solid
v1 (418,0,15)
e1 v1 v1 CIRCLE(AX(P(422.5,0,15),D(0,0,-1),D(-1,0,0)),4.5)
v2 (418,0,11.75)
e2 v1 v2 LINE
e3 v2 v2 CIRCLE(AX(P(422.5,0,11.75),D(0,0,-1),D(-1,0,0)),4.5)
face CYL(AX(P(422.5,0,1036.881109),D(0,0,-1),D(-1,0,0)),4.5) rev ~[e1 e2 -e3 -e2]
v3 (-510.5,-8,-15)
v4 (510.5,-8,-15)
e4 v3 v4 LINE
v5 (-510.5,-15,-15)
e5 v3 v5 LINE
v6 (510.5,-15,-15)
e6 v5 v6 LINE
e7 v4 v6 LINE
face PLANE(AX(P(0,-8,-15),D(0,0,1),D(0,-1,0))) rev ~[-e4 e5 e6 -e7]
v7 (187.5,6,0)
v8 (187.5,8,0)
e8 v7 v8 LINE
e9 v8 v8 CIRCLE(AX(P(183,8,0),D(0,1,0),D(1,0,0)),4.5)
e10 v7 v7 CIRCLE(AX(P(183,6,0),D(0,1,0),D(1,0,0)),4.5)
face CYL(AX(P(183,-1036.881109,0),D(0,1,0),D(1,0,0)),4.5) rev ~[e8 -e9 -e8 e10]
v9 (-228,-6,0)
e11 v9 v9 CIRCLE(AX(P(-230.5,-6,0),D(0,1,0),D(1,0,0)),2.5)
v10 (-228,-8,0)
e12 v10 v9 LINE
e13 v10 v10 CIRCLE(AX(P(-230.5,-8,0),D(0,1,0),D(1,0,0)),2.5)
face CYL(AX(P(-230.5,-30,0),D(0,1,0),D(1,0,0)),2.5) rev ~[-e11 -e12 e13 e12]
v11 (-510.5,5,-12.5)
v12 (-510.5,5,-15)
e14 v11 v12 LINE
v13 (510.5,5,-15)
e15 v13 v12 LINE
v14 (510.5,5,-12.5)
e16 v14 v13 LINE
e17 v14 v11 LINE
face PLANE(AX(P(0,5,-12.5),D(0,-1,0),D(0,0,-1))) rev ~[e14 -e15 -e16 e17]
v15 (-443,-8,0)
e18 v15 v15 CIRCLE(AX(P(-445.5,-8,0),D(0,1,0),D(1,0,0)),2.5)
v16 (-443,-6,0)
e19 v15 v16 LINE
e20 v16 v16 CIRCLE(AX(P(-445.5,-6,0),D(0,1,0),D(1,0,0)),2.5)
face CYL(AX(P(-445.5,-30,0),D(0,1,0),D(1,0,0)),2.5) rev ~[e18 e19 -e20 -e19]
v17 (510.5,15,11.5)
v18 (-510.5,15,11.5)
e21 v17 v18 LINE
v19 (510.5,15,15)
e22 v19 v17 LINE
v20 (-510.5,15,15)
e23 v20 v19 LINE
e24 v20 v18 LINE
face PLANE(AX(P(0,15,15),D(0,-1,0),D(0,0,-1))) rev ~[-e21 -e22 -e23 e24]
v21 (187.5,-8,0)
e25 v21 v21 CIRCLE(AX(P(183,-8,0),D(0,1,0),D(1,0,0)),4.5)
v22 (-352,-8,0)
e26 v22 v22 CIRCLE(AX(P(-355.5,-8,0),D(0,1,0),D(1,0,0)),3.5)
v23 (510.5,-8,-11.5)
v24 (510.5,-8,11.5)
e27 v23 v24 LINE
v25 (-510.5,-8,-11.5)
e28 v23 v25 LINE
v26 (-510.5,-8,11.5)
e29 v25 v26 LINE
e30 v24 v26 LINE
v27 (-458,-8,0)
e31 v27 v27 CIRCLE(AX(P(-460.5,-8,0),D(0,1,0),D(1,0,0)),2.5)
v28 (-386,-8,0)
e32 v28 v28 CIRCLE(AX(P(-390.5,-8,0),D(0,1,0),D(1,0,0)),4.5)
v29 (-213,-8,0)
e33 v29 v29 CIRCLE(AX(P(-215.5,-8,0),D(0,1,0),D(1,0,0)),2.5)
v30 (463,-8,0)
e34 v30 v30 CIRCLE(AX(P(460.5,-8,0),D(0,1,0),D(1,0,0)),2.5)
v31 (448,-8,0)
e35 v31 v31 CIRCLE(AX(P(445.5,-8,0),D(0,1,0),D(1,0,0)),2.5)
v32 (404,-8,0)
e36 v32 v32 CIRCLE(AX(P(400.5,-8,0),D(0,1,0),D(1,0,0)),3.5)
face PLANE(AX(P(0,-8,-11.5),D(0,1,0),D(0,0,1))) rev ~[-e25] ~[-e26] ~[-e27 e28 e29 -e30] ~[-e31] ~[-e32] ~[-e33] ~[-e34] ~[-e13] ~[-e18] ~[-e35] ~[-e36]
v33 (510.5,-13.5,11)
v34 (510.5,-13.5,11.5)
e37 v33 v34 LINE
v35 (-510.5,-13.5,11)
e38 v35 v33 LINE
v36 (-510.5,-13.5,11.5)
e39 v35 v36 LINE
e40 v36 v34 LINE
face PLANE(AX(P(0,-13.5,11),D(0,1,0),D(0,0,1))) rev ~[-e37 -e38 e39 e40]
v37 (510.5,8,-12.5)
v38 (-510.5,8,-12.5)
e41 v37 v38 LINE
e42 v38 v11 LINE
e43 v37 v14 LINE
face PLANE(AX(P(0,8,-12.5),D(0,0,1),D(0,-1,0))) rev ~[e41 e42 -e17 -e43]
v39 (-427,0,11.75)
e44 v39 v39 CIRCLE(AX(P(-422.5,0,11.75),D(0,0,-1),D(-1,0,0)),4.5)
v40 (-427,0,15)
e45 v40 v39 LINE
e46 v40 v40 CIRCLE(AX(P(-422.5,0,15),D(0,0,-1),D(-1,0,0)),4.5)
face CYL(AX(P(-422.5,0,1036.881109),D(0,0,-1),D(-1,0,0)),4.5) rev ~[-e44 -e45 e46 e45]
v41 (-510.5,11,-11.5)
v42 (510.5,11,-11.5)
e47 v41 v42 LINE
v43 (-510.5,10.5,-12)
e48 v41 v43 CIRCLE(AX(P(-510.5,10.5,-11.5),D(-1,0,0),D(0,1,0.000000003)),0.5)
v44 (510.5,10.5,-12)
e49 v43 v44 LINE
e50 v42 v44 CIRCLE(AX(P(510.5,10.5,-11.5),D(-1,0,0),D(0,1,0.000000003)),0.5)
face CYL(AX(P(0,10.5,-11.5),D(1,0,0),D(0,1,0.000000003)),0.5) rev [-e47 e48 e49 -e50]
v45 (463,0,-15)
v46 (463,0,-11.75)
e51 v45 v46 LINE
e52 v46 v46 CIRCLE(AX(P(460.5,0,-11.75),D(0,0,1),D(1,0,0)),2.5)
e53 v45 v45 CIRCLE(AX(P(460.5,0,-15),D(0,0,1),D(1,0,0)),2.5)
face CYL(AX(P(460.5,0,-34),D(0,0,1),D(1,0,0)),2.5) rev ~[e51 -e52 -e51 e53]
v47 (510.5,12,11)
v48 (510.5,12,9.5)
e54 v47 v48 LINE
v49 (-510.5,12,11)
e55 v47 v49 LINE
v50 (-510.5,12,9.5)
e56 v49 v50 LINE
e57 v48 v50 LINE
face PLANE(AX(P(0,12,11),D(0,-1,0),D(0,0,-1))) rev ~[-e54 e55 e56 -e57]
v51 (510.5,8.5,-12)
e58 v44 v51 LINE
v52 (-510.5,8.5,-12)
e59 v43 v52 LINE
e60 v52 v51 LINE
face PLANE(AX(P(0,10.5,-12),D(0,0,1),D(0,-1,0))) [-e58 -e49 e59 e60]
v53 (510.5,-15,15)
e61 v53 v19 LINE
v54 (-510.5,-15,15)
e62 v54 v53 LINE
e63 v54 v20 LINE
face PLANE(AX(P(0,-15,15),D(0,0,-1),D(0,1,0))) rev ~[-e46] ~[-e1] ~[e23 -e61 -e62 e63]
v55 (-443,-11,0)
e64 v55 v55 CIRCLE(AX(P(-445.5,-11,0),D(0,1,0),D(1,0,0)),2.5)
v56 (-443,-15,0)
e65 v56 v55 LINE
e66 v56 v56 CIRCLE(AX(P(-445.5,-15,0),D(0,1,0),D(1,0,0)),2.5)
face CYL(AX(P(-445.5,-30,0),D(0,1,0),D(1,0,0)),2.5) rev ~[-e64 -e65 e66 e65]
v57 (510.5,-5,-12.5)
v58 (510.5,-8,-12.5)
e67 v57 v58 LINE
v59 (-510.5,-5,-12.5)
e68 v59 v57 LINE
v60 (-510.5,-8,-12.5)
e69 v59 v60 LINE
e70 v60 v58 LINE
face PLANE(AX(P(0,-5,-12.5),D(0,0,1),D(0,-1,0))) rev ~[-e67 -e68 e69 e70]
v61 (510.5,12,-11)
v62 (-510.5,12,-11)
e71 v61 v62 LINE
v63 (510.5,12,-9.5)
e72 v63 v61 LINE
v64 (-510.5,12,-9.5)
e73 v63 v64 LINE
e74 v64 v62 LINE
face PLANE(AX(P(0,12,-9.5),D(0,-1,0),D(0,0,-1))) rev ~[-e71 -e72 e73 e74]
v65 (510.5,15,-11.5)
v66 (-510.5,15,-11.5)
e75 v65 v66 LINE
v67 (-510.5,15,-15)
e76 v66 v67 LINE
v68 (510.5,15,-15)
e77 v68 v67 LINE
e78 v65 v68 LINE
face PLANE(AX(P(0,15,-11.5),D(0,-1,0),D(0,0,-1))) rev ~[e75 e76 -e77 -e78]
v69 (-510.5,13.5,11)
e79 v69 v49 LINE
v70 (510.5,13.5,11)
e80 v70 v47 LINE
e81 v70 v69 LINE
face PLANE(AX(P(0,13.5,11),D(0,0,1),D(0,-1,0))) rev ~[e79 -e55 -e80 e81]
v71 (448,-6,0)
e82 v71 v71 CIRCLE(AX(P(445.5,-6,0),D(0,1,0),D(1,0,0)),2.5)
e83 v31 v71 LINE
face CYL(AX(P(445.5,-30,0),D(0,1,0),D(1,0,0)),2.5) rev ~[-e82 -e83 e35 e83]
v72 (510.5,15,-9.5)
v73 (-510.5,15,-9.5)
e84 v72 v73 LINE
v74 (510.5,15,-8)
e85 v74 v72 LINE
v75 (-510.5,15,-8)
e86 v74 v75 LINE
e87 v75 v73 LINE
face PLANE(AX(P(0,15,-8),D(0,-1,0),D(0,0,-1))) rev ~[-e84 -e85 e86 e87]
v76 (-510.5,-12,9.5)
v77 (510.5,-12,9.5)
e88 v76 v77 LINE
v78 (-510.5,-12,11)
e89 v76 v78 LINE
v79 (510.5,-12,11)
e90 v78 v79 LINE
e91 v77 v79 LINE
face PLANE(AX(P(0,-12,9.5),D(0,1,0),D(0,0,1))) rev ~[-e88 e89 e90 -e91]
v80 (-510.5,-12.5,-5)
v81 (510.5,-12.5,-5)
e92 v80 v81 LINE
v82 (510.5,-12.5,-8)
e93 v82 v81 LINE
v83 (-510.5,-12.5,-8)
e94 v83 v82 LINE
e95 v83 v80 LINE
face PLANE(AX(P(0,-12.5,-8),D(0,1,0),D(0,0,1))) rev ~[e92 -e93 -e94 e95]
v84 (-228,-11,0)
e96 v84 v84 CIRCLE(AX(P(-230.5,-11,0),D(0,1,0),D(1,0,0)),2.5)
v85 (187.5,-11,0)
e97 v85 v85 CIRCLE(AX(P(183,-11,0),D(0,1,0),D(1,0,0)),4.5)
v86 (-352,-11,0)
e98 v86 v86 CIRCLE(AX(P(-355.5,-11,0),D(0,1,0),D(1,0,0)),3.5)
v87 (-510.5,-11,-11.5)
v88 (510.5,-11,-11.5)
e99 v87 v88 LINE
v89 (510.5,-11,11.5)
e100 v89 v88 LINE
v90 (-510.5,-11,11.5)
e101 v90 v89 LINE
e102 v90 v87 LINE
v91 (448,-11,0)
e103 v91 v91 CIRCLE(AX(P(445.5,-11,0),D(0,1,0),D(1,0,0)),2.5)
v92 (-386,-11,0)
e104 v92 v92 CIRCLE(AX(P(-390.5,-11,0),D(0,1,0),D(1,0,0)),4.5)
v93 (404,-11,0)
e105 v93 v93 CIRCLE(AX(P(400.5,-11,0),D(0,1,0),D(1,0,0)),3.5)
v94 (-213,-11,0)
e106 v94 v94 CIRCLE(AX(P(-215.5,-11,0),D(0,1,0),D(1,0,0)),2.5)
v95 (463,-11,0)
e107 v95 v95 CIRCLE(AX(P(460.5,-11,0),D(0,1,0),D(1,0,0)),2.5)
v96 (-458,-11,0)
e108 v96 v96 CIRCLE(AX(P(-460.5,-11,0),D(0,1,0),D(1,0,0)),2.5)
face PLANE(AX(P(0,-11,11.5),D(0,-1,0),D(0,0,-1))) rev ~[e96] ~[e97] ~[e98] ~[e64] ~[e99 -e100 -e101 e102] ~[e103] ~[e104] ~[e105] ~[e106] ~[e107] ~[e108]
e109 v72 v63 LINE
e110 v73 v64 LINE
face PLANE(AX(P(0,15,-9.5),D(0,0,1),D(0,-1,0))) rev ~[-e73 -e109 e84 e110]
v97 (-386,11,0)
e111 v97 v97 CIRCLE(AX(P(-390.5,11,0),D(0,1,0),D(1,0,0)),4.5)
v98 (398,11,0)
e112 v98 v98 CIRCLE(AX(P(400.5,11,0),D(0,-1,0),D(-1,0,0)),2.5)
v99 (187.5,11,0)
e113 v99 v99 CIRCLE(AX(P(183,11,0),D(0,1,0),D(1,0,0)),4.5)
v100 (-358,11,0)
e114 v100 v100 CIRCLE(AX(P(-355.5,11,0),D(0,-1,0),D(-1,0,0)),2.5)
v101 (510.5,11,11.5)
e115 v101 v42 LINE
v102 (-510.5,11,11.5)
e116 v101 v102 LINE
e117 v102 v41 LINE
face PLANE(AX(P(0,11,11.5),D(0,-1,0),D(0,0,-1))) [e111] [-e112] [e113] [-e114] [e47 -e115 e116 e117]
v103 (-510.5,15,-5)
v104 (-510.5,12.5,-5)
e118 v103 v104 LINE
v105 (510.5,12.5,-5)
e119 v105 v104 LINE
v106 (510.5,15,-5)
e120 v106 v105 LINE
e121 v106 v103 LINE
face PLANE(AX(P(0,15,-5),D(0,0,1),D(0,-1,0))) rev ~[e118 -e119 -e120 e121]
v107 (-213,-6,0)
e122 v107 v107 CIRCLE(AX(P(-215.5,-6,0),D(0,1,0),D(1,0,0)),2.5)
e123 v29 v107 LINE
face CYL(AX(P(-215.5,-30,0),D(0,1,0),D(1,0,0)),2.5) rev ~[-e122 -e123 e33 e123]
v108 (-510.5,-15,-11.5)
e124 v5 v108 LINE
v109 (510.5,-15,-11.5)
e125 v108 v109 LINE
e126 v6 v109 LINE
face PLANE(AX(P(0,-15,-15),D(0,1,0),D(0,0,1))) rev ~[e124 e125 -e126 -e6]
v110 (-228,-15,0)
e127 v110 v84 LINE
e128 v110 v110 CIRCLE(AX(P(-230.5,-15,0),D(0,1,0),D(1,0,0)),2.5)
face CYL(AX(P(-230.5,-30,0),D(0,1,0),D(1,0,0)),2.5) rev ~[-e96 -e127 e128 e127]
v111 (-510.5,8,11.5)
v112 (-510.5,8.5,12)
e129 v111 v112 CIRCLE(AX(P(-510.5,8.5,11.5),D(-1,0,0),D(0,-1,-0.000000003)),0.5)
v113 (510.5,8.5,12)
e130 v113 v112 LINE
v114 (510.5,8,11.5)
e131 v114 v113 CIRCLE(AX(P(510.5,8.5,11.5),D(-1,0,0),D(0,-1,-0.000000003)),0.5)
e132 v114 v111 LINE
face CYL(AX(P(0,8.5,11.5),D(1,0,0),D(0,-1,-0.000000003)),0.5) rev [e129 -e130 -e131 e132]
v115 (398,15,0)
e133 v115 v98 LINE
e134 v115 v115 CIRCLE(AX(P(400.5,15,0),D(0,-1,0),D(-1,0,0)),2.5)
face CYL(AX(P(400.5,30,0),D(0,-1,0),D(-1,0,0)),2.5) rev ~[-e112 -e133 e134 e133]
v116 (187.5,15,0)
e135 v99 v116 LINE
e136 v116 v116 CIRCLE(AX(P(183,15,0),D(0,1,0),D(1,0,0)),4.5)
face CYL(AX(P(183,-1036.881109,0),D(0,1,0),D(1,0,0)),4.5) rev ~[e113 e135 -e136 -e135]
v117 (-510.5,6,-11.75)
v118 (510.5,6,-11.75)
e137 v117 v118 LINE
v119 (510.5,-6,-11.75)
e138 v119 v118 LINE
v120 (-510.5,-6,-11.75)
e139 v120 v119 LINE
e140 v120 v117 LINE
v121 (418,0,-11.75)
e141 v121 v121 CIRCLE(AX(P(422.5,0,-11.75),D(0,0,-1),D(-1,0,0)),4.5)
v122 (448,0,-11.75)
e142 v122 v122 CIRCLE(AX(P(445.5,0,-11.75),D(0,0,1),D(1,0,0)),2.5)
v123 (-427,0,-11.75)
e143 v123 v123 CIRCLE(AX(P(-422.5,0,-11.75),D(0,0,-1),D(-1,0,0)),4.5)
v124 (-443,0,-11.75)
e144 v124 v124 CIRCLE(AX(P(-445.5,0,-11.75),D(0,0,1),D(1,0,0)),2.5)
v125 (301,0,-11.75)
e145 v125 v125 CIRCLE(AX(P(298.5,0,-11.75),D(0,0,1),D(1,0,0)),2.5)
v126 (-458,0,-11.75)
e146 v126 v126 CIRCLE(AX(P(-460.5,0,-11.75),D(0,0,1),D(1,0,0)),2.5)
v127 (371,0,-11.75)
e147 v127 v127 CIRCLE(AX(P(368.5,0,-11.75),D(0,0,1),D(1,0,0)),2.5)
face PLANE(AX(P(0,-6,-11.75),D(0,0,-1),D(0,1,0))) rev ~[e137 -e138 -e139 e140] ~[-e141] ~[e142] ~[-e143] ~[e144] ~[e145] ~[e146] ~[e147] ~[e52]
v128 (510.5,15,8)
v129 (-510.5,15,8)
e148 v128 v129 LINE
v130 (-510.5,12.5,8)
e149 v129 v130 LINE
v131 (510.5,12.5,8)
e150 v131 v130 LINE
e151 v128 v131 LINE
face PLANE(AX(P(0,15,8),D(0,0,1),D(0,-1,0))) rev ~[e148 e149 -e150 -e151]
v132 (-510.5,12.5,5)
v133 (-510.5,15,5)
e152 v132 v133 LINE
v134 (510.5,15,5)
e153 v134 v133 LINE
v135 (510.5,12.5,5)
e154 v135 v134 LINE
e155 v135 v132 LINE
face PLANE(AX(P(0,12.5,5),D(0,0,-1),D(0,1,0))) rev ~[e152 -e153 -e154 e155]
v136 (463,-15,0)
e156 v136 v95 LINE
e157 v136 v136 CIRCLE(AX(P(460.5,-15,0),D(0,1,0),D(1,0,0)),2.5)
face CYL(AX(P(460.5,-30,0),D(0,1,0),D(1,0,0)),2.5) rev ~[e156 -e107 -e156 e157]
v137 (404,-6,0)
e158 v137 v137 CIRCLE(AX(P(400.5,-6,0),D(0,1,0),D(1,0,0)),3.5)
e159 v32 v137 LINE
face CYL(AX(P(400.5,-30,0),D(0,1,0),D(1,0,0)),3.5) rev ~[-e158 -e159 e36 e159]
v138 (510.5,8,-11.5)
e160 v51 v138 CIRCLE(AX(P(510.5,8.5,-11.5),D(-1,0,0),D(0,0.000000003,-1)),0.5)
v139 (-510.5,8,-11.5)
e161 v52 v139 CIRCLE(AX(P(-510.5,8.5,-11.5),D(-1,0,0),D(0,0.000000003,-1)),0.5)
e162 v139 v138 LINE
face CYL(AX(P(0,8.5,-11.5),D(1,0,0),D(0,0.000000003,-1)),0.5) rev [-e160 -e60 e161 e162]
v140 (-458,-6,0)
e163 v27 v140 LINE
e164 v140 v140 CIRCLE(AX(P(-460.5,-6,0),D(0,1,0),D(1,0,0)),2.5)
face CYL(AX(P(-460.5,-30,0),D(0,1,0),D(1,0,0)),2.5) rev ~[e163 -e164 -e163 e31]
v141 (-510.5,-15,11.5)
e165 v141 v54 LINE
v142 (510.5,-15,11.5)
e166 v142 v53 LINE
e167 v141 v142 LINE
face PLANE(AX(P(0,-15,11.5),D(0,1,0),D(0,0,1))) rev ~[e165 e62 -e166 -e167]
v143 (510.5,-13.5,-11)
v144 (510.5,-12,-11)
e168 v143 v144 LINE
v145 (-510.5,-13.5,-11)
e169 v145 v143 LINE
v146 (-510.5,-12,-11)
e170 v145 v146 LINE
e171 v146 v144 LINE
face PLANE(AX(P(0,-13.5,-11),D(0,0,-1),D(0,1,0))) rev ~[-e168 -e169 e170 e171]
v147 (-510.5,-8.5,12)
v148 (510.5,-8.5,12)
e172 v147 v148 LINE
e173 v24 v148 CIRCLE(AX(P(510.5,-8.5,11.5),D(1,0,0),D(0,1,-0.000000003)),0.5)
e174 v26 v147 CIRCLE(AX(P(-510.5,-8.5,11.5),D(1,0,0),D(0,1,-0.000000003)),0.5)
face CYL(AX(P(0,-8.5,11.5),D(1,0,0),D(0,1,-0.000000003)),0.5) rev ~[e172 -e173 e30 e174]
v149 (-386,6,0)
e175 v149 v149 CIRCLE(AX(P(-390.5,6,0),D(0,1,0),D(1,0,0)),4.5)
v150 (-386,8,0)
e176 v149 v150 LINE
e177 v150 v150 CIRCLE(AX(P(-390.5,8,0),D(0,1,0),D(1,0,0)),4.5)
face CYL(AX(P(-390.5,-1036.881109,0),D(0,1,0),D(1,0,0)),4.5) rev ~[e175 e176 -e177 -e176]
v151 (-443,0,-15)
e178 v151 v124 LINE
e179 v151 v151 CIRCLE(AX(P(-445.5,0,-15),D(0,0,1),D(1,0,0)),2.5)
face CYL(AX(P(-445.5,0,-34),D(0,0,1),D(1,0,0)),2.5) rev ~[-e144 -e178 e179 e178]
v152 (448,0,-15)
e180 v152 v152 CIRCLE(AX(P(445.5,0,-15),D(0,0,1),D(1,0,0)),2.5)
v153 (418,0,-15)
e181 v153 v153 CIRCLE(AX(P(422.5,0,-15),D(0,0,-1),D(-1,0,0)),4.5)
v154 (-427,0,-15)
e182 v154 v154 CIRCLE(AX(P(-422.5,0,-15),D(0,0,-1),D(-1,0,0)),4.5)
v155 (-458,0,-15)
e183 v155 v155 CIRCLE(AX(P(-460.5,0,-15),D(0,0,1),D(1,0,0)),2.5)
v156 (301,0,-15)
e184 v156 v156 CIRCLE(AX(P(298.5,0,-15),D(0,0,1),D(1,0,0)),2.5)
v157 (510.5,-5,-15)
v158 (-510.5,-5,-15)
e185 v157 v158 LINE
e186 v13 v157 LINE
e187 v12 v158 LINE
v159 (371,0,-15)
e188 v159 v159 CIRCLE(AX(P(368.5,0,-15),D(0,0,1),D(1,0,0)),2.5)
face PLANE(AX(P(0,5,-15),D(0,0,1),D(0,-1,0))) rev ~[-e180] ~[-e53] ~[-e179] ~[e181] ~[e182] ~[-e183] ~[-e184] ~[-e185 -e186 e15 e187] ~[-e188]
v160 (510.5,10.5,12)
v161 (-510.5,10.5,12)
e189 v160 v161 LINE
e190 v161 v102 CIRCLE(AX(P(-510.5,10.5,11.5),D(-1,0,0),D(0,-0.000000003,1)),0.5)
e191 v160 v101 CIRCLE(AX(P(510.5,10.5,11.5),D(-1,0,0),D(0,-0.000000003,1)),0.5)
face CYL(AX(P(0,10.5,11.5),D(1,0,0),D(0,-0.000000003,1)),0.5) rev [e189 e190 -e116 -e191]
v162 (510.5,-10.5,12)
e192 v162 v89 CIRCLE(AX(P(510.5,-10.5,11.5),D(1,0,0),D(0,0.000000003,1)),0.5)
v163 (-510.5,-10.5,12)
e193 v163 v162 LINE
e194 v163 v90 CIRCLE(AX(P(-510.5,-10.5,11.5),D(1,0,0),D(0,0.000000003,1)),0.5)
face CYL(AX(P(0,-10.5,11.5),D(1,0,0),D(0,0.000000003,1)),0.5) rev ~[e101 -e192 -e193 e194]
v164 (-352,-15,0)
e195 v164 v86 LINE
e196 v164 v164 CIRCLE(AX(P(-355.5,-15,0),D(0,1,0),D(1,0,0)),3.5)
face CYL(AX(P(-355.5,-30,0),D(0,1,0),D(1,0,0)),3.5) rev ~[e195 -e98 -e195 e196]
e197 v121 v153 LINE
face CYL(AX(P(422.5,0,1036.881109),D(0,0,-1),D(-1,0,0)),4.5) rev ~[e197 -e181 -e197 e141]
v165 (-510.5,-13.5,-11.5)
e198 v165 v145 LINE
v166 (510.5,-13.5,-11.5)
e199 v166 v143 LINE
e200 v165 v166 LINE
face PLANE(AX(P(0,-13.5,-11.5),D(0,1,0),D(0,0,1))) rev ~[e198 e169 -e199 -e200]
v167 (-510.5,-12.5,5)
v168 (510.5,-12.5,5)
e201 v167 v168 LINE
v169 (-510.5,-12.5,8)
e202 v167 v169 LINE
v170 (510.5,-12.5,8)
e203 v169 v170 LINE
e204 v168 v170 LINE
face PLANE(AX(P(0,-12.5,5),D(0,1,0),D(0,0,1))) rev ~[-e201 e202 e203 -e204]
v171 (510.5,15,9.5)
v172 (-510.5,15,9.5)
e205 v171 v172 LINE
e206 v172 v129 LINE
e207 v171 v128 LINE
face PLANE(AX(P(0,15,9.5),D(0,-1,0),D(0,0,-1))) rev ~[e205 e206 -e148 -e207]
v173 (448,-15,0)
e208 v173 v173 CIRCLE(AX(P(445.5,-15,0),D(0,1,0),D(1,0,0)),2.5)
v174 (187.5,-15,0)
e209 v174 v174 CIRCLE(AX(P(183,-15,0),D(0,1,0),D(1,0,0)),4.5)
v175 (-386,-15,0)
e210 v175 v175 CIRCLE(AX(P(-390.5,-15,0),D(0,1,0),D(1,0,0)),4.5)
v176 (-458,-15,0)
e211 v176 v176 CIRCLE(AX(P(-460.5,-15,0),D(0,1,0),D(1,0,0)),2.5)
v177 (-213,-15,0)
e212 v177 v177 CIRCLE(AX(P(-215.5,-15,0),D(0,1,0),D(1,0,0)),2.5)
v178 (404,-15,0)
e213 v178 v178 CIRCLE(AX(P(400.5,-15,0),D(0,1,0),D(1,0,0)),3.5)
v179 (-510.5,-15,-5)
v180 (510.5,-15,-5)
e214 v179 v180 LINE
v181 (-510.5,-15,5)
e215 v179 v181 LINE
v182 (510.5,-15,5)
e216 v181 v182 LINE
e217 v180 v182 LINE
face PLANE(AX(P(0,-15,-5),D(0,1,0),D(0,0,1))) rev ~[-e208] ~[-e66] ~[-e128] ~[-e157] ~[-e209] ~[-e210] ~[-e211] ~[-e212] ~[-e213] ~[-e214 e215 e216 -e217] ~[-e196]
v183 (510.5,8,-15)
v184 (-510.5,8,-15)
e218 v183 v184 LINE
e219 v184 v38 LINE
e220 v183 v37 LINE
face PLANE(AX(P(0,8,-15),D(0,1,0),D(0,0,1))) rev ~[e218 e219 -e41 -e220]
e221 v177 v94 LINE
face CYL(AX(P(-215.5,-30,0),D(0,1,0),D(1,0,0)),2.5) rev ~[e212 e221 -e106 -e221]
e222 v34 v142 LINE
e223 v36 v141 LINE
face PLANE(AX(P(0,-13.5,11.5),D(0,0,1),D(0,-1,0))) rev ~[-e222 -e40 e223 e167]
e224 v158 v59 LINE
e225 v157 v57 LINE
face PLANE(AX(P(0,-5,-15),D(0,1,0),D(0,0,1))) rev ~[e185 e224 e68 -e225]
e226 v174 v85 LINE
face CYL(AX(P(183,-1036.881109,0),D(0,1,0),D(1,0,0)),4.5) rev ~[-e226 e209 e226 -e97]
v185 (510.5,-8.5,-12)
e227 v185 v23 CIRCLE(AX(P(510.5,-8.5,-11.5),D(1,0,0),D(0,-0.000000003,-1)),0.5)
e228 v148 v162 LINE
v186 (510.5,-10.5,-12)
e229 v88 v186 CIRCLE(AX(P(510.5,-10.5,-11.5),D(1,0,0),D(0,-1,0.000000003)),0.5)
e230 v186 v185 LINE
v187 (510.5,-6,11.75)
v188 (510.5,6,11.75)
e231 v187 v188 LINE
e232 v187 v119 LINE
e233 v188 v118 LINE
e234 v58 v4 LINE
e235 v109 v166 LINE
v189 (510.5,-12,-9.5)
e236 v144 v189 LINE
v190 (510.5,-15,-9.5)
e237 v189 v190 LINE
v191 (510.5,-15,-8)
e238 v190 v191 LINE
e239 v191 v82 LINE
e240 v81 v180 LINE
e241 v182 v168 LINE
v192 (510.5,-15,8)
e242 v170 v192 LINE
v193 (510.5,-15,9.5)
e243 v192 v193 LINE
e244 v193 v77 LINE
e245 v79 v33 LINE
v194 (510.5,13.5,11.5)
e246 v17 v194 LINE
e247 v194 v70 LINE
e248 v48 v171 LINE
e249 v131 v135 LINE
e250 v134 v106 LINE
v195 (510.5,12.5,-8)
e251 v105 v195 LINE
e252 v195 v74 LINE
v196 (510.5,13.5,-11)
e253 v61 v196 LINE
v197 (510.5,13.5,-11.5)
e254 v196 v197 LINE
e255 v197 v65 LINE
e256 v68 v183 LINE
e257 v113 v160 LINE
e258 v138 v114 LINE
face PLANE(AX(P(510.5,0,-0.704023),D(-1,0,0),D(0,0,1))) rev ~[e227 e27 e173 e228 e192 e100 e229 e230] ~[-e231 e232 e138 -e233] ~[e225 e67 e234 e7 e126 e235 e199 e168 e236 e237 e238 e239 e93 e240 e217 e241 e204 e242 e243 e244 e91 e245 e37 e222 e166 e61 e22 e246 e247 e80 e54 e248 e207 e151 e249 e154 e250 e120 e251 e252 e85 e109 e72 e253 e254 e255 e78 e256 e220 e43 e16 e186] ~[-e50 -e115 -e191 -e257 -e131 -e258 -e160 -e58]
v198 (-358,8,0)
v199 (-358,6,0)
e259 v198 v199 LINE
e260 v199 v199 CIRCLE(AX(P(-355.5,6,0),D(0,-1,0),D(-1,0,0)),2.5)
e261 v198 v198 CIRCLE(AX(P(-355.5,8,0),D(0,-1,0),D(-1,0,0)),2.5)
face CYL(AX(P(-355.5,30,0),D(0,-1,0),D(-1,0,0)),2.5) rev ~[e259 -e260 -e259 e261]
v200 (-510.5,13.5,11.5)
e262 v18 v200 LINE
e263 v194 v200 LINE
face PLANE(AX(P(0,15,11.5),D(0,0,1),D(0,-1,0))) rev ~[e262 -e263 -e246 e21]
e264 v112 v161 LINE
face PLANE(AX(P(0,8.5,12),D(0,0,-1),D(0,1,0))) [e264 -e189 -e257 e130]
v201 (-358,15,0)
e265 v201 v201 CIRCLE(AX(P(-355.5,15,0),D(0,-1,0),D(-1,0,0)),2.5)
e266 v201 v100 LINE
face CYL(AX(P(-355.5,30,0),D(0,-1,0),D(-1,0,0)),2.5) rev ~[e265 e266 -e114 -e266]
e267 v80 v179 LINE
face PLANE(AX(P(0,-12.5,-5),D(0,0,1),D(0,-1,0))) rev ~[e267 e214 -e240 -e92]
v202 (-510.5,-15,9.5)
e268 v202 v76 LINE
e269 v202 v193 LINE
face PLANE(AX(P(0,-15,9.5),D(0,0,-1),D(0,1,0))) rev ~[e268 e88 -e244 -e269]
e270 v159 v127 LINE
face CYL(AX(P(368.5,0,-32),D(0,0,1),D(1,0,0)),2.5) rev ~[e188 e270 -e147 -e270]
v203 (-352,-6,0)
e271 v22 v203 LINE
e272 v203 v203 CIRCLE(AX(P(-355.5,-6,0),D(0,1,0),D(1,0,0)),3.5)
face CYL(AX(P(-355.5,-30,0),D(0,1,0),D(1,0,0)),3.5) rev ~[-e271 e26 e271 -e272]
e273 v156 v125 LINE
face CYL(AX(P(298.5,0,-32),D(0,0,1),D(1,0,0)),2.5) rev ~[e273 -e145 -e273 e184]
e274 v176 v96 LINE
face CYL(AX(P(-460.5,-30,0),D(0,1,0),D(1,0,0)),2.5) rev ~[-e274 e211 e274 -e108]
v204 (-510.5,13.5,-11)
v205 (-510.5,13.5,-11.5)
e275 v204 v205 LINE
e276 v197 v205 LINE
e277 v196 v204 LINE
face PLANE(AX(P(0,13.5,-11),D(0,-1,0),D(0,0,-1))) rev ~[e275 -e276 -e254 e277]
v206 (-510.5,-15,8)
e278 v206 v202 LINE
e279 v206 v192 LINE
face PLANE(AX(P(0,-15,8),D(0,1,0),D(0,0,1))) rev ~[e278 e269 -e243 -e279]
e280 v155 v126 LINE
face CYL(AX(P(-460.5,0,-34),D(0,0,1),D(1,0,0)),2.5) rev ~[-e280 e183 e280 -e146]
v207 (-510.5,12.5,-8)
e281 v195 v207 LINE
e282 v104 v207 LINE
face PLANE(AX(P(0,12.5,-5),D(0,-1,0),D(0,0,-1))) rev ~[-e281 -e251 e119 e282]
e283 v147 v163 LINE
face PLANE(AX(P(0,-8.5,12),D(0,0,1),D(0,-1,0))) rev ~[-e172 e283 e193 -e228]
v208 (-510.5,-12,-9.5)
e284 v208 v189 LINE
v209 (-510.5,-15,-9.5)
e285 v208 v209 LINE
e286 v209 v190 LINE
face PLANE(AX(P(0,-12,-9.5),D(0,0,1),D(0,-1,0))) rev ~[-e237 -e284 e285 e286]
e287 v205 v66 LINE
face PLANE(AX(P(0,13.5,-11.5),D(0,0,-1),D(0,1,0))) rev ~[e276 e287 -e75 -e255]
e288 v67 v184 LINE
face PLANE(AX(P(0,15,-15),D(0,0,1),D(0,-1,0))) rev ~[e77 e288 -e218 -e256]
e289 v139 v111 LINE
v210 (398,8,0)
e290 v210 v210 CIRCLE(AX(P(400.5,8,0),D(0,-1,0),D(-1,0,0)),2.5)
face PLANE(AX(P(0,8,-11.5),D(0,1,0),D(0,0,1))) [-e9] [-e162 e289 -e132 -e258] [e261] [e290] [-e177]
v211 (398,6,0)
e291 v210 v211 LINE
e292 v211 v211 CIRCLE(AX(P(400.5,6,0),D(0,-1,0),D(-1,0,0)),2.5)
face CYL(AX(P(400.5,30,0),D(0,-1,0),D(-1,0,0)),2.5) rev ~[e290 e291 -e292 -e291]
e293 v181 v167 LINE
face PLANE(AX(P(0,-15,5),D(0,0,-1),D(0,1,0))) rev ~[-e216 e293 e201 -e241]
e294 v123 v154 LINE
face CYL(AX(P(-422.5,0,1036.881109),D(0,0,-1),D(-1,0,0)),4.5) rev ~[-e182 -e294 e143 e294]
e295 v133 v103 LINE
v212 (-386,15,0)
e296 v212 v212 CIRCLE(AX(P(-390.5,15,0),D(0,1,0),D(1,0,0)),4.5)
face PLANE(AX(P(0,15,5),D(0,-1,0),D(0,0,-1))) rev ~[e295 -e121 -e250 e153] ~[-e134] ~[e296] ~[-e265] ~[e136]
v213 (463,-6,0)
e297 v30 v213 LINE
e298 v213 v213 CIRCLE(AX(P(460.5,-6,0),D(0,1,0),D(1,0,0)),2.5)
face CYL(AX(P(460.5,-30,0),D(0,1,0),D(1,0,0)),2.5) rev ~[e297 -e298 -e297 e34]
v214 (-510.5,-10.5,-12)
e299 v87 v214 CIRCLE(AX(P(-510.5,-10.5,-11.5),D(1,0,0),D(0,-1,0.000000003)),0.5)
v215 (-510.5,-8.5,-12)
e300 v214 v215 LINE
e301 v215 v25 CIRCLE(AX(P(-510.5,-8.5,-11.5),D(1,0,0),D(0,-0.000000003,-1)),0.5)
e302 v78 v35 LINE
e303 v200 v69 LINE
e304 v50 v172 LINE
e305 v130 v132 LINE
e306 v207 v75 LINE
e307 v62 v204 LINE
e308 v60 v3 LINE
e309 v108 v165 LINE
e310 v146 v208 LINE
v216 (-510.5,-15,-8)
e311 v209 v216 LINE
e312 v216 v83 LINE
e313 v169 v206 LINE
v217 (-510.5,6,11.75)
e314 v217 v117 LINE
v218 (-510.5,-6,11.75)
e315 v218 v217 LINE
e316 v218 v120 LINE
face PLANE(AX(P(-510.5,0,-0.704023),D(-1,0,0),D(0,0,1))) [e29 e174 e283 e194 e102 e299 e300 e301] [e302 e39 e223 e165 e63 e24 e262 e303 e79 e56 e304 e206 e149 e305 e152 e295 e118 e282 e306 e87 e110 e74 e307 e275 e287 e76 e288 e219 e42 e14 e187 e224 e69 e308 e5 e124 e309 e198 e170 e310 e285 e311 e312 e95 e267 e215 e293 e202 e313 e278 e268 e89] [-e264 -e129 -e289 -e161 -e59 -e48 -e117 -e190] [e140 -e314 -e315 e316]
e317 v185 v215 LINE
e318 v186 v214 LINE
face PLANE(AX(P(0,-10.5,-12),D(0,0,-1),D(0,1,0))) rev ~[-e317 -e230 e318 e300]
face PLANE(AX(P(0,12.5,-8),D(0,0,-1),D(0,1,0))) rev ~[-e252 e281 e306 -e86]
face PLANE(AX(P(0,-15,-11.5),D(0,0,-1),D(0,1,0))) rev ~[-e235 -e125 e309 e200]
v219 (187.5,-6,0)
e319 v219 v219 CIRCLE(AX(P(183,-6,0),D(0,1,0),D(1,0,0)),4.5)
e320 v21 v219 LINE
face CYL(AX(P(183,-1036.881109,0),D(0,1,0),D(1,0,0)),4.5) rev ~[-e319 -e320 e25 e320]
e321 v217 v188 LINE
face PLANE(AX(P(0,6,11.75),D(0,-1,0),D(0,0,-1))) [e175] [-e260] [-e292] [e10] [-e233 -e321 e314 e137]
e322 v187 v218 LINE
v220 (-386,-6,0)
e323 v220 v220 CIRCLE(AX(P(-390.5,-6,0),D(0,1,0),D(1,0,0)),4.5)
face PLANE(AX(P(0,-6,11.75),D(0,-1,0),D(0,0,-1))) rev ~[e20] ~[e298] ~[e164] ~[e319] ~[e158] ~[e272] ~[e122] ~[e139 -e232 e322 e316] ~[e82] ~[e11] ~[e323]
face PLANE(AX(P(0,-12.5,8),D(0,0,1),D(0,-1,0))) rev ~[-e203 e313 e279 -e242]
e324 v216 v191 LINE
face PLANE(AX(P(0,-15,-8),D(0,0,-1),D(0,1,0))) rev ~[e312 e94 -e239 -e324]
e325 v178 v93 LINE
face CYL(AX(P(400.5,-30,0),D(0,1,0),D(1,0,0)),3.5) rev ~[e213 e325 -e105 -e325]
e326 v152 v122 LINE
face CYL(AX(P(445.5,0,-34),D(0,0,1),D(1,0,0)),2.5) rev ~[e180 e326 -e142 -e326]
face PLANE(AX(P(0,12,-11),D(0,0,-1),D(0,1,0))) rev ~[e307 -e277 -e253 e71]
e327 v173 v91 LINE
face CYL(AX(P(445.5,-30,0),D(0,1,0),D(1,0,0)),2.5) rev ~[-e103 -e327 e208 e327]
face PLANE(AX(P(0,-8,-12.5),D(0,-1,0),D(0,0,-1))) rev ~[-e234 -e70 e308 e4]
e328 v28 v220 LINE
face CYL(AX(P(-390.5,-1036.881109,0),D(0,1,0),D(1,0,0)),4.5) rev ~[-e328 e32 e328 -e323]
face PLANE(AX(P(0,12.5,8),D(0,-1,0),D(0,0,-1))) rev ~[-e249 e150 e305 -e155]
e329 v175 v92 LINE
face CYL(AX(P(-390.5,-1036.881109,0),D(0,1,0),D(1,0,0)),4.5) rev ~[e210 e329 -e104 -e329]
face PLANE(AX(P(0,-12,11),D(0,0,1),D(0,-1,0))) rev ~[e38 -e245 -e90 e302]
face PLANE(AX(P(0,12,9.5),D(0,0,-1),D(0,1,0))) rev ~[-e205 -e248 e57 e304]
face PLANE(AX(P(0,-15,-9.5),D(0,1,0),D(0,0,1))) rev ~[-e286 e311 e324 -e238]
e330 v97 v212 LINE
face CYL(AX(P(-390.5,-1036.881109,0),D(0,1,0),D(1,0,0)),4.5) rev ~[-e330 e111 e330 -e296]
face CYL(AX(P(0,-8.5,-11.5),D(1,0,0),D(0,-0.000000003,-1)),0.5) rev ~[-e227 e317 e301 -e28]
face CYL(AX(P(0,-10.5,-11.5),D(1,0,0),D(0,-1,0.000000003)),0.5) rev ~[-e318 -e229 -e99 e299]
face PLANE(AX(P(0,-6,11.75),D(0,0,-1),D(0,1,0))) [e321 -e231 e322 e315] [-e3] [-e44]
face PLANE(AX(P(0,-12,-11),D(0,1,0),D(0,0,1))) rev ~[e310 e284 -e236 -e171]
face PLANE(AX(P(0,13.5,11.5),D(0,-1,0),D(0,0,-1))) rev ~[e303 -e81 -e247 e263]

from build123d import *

# Parameters (mm, degrees)
SKETCH_1_W                = 23.5
SKETCH_1_H                = 12
EXTRUDE_1_DEPTH           = 510.5
HOLE_WIZARD_M6_1_D        = 5
HOLE_WIZARD_M6_1_DEPTH    = 19
HOLE_WIZARD_M6_1_TIP      = 1.502151548
HOLE_WIZARD_M6_2_D        = 5
HOLE_WIZARD_M6_2_DEPTH    = 15
HOLE_WIZARD_M6_2_TIP      = 1.502151548
HOLE_WIZARD_9_0_9_1_D     = 9
HOLE_WIZARD_M6_3_D        = 5
HOLE_WIZARD_M6_3_DEPTH    = 15
HOLE_WIZARD_M6_3_TIP      = 1.502151548
HOLE_WIZARD_9_0_9_2_D     = 9
HOLE_WIZARD_7_0_7_1_D     = 7
HOLE_WIZARD_7_0_7_1_DEPTH = 15
HOLE_WIZARD_7_0_7_1_TIP   = 2.103012167
HOLE_WIZARD_M6_4_D        = 5
HOLE_WIZARD_M6_4_DEPTH    = 17
HOLE_WIZARD_M6_4_TIP      = 1.502151548


with BuildPart() as part:
    # 草图1 → 凸台-拉伸1 (new, symmetric)
    with BuildSketch(Plane(origin=(0, 0, 0), x_dir=(0, 0, -1), z_dir=(1, 0, 0))):
        Polygon((-15, 15), (-11.5, 15), (-11.5, 13.5), (-11, 13.5), (-11, 12), (-9.5, 12), (-9.5, 15), (-8, 15), (-8, 12.5), (-5, 12.5), (-5, 15), (5, 15), (5, 12.5), (8, 12.5), (8, 15), (9.5, 15), (9.5, 12), (11, 12), (11, 13.5), (11.5, 13.5), (11.5, 15), (15, 15), (15, 8), (12.5, 8), (12.5, 5), (15, 5), (15, -5), (12.5, -5), (12.5, -8), (15, -8), (15, -15), (11.5, -15), (11.5, -13.5), (11, -13.5), (11, -12), (9.5, -12), (9.5, -15), (8, -15), (8, -12.5), (5, -12.5), (5, -15), (-5, -15), (-5, -12.5), (-8, -12.5), (-8, -15), (-9.5, -15), (-9.5, -12), (-11, -12), (-11, -13.5), (-11.5, -13.5), (-11.5, -15), (-15, -15), align=None)
        with BuildLine():
            Line((12, -10.5), (12, -8.5))
            ThreePointArc((12, -8.5), (11.853553391, -8.146446609), (11.5, -8))
            Line((11.5, -8), (-11.5, -8))
            ThreePointArc((-11.5, -8), (-11.853553391, -8.146446609), (-12, -8.5))
            Line((-12, -8.5), (-12, -10.5))
            ThreePointArc((-12, -10.5), (-11.853553391, -10.853553391), (-11.5, -11))
            Line((-11.5, -11), (11.5, -11))
            ThreePointArc((11.5, -11), (11.853553391, -10.853553391), (12, -10.5))
        make_face(mode=Mode.SUBTRACT)
        with BuildLine():
            Line((-11.5, 11), (11.5, 11))
            ThreePointArc((11.5, 11), (11.853553391, 10.853553391), (12, 10.5))
            Line((12, 10.5), (12, 8.5))
            ThreePointArc((12, 8.5), (11.853553391, 8.146446609), (11.5, 8))
            Line((11.5, 8), (-11.5, 8))
            ThreePointArc((-11.5, 8), (-11.853553391, 8.146446609), (-12, 8.5))
            Line((-12, 8.5), (-12, 10.5))
            ThreePointArc((-12, 10.5), (-11.853553391, 10.853553391), (-11.5, 11))
        make_face(mode=Mode.SUBTRACT)
        Rectangle(SKETCH_1_W, SKETCH_1_H, mode=Mode.SUBTRACT)
    extrude(amount=EXTRUDE_1_DEPTH, both=True)

    # M6 螺纹孔1
    with Locations(Plane(origin=(0, 0, -15), x_dir=(-1, 0, 0), z_dir=(0, 0, -1))):
        with Locations((460.5, 0), (445.5, 0), (-445.5, 0), (-460.5, 0)):
            Hole(HOLE_WIZARD_M6_1_D / 2, depth=HOLE_WIZARD_M6_1_DEPTH)
            with Locations((0, 0, -(HOLE_WIZARD_M6_1_DEPTH + HOLE_WIZARD_M6_1_TIP / 2))):  # 118° drill point
                Cone(0, HOLE_WIZARD_M6_1_D / 2, HOLE_WIZARD_M6_1_TIP, mode=Mode.SUBTRACT)

    # M6 螺纹孔2
    with Locations(Plane(origin=(0, -15, 0), x_dir=(-1, 0, 0), z_dir=(0, -1, 0))):
        with Locations((-460.5, 0), (-445.5, 0), (215.5, 0), (230.5, 0), (445.5, 0), (460.5, 0)):
            Hole(HOLE_WIZARD_M6_2_D / 2, depth=HOLE_WIZARD_M6_2_DEPTH)
            with Locations((0, 0, -(HOLE_WIZARD_M6_2_DEPTH + HOLE_WIZARD_M6_2_TIP / 2))):  # 118° drill point
                Cone(0, HOLE_WIZARD_M6_2_D / 2, HOLE_WIZARD_M6_2_TIP, mode=Mode.SUBTRACT)

    # Ø9.0 (9) 直径孔1 (through all)
    with Locations(Plane.XY.offset(15)):
        with Locations((-422.5, 0), (422.5, 0)):
            Hole(HOLE_WIZARD_9_0_9_1_D / 2)

    # M6 螺纹孔3
    with Locations(Plane(origin=(0, 15, 0), x_dir=(1, 0, 0), z_dir=(0, 1, 0))):
        with Locations((-355.5, 0), (400.5, 0)):
            Hole(HOLE_WIZARD_M6_3_D / 2, depth=HOLE_WIZARD_M6_3_DEPTH)
            with Locations((0, 0, -(HOLE_WIZARD_M6_3_DEPTH + HOLE_WIZARD_M6_3_TIP / 2))):  # 118° drill point
                Cone(0, HOLE_WIZARD_M6_3_D / 2, HOLE_WIZARD_M6_3_TIP, mode=Mode.SUBTRACT)

    # Ø9.0 (9) 直径孔2 (through all)
    with Locations(Plane(origin=(0, -15, 0), x_dir=(-1, 0, 0), z_dir=(0, -1, 0))):
        with Locations((-183, 0), (390.5, 0)):
            Hole(HOLE_WIZARD_9_0_9_2_D / 2)

    # Ø7.0 (7) 直径孔1
    with Locations(Plane(origin=(0, -15, 0), x_dir=(-1, 0, 0), z_dir=(0, -1, 0))):
        with Locations((-400.5, 0), (355.5, 0)):
            Hole(HOLE_WIZARD_7_0_7_1_D / 2, depth=HOLE_WIZARD_7_0_7_1_DEPTH)
            with Locations((0, 0, -(HOLE_WIZARD_7_0_7_1_DEPTH + HOLE_WIZARD_7_0_7_1_TIP / 2))):  # 118° drill point
                Cone(0, HOLE_WIZARD_7_0_7_1_D / 2, HOLE_WIZARD_7_0_7_1_TIP, mode=Mode.SUBTRACT)

    # M6 螺纹孔4
    with Locations(Plane(origin=(0, 0, -15), x_dir=(-1, 0, 0), z_dir=(0, 0, -1))):
        with Locations((-368.5, 0), (-298.499999898, 0)):
            Hole(HOLE_WIZARD_M6_4_D / 2, depth=HOLE_WIZARD_M6_4_DEPTH)
            with Locations((0, 0, -(HOLE_WIZARD_M6_4_DEPTH + HOLE_WIZARD_M6_4_TIP / 2))):  # 118° drill point
                Cone(0, HOLE_WIZARD_M6_4_D / 2, HOLE_WIZARD_M6_4_TIP, mode=Mode.SUBTRACT)


solid = part.part
